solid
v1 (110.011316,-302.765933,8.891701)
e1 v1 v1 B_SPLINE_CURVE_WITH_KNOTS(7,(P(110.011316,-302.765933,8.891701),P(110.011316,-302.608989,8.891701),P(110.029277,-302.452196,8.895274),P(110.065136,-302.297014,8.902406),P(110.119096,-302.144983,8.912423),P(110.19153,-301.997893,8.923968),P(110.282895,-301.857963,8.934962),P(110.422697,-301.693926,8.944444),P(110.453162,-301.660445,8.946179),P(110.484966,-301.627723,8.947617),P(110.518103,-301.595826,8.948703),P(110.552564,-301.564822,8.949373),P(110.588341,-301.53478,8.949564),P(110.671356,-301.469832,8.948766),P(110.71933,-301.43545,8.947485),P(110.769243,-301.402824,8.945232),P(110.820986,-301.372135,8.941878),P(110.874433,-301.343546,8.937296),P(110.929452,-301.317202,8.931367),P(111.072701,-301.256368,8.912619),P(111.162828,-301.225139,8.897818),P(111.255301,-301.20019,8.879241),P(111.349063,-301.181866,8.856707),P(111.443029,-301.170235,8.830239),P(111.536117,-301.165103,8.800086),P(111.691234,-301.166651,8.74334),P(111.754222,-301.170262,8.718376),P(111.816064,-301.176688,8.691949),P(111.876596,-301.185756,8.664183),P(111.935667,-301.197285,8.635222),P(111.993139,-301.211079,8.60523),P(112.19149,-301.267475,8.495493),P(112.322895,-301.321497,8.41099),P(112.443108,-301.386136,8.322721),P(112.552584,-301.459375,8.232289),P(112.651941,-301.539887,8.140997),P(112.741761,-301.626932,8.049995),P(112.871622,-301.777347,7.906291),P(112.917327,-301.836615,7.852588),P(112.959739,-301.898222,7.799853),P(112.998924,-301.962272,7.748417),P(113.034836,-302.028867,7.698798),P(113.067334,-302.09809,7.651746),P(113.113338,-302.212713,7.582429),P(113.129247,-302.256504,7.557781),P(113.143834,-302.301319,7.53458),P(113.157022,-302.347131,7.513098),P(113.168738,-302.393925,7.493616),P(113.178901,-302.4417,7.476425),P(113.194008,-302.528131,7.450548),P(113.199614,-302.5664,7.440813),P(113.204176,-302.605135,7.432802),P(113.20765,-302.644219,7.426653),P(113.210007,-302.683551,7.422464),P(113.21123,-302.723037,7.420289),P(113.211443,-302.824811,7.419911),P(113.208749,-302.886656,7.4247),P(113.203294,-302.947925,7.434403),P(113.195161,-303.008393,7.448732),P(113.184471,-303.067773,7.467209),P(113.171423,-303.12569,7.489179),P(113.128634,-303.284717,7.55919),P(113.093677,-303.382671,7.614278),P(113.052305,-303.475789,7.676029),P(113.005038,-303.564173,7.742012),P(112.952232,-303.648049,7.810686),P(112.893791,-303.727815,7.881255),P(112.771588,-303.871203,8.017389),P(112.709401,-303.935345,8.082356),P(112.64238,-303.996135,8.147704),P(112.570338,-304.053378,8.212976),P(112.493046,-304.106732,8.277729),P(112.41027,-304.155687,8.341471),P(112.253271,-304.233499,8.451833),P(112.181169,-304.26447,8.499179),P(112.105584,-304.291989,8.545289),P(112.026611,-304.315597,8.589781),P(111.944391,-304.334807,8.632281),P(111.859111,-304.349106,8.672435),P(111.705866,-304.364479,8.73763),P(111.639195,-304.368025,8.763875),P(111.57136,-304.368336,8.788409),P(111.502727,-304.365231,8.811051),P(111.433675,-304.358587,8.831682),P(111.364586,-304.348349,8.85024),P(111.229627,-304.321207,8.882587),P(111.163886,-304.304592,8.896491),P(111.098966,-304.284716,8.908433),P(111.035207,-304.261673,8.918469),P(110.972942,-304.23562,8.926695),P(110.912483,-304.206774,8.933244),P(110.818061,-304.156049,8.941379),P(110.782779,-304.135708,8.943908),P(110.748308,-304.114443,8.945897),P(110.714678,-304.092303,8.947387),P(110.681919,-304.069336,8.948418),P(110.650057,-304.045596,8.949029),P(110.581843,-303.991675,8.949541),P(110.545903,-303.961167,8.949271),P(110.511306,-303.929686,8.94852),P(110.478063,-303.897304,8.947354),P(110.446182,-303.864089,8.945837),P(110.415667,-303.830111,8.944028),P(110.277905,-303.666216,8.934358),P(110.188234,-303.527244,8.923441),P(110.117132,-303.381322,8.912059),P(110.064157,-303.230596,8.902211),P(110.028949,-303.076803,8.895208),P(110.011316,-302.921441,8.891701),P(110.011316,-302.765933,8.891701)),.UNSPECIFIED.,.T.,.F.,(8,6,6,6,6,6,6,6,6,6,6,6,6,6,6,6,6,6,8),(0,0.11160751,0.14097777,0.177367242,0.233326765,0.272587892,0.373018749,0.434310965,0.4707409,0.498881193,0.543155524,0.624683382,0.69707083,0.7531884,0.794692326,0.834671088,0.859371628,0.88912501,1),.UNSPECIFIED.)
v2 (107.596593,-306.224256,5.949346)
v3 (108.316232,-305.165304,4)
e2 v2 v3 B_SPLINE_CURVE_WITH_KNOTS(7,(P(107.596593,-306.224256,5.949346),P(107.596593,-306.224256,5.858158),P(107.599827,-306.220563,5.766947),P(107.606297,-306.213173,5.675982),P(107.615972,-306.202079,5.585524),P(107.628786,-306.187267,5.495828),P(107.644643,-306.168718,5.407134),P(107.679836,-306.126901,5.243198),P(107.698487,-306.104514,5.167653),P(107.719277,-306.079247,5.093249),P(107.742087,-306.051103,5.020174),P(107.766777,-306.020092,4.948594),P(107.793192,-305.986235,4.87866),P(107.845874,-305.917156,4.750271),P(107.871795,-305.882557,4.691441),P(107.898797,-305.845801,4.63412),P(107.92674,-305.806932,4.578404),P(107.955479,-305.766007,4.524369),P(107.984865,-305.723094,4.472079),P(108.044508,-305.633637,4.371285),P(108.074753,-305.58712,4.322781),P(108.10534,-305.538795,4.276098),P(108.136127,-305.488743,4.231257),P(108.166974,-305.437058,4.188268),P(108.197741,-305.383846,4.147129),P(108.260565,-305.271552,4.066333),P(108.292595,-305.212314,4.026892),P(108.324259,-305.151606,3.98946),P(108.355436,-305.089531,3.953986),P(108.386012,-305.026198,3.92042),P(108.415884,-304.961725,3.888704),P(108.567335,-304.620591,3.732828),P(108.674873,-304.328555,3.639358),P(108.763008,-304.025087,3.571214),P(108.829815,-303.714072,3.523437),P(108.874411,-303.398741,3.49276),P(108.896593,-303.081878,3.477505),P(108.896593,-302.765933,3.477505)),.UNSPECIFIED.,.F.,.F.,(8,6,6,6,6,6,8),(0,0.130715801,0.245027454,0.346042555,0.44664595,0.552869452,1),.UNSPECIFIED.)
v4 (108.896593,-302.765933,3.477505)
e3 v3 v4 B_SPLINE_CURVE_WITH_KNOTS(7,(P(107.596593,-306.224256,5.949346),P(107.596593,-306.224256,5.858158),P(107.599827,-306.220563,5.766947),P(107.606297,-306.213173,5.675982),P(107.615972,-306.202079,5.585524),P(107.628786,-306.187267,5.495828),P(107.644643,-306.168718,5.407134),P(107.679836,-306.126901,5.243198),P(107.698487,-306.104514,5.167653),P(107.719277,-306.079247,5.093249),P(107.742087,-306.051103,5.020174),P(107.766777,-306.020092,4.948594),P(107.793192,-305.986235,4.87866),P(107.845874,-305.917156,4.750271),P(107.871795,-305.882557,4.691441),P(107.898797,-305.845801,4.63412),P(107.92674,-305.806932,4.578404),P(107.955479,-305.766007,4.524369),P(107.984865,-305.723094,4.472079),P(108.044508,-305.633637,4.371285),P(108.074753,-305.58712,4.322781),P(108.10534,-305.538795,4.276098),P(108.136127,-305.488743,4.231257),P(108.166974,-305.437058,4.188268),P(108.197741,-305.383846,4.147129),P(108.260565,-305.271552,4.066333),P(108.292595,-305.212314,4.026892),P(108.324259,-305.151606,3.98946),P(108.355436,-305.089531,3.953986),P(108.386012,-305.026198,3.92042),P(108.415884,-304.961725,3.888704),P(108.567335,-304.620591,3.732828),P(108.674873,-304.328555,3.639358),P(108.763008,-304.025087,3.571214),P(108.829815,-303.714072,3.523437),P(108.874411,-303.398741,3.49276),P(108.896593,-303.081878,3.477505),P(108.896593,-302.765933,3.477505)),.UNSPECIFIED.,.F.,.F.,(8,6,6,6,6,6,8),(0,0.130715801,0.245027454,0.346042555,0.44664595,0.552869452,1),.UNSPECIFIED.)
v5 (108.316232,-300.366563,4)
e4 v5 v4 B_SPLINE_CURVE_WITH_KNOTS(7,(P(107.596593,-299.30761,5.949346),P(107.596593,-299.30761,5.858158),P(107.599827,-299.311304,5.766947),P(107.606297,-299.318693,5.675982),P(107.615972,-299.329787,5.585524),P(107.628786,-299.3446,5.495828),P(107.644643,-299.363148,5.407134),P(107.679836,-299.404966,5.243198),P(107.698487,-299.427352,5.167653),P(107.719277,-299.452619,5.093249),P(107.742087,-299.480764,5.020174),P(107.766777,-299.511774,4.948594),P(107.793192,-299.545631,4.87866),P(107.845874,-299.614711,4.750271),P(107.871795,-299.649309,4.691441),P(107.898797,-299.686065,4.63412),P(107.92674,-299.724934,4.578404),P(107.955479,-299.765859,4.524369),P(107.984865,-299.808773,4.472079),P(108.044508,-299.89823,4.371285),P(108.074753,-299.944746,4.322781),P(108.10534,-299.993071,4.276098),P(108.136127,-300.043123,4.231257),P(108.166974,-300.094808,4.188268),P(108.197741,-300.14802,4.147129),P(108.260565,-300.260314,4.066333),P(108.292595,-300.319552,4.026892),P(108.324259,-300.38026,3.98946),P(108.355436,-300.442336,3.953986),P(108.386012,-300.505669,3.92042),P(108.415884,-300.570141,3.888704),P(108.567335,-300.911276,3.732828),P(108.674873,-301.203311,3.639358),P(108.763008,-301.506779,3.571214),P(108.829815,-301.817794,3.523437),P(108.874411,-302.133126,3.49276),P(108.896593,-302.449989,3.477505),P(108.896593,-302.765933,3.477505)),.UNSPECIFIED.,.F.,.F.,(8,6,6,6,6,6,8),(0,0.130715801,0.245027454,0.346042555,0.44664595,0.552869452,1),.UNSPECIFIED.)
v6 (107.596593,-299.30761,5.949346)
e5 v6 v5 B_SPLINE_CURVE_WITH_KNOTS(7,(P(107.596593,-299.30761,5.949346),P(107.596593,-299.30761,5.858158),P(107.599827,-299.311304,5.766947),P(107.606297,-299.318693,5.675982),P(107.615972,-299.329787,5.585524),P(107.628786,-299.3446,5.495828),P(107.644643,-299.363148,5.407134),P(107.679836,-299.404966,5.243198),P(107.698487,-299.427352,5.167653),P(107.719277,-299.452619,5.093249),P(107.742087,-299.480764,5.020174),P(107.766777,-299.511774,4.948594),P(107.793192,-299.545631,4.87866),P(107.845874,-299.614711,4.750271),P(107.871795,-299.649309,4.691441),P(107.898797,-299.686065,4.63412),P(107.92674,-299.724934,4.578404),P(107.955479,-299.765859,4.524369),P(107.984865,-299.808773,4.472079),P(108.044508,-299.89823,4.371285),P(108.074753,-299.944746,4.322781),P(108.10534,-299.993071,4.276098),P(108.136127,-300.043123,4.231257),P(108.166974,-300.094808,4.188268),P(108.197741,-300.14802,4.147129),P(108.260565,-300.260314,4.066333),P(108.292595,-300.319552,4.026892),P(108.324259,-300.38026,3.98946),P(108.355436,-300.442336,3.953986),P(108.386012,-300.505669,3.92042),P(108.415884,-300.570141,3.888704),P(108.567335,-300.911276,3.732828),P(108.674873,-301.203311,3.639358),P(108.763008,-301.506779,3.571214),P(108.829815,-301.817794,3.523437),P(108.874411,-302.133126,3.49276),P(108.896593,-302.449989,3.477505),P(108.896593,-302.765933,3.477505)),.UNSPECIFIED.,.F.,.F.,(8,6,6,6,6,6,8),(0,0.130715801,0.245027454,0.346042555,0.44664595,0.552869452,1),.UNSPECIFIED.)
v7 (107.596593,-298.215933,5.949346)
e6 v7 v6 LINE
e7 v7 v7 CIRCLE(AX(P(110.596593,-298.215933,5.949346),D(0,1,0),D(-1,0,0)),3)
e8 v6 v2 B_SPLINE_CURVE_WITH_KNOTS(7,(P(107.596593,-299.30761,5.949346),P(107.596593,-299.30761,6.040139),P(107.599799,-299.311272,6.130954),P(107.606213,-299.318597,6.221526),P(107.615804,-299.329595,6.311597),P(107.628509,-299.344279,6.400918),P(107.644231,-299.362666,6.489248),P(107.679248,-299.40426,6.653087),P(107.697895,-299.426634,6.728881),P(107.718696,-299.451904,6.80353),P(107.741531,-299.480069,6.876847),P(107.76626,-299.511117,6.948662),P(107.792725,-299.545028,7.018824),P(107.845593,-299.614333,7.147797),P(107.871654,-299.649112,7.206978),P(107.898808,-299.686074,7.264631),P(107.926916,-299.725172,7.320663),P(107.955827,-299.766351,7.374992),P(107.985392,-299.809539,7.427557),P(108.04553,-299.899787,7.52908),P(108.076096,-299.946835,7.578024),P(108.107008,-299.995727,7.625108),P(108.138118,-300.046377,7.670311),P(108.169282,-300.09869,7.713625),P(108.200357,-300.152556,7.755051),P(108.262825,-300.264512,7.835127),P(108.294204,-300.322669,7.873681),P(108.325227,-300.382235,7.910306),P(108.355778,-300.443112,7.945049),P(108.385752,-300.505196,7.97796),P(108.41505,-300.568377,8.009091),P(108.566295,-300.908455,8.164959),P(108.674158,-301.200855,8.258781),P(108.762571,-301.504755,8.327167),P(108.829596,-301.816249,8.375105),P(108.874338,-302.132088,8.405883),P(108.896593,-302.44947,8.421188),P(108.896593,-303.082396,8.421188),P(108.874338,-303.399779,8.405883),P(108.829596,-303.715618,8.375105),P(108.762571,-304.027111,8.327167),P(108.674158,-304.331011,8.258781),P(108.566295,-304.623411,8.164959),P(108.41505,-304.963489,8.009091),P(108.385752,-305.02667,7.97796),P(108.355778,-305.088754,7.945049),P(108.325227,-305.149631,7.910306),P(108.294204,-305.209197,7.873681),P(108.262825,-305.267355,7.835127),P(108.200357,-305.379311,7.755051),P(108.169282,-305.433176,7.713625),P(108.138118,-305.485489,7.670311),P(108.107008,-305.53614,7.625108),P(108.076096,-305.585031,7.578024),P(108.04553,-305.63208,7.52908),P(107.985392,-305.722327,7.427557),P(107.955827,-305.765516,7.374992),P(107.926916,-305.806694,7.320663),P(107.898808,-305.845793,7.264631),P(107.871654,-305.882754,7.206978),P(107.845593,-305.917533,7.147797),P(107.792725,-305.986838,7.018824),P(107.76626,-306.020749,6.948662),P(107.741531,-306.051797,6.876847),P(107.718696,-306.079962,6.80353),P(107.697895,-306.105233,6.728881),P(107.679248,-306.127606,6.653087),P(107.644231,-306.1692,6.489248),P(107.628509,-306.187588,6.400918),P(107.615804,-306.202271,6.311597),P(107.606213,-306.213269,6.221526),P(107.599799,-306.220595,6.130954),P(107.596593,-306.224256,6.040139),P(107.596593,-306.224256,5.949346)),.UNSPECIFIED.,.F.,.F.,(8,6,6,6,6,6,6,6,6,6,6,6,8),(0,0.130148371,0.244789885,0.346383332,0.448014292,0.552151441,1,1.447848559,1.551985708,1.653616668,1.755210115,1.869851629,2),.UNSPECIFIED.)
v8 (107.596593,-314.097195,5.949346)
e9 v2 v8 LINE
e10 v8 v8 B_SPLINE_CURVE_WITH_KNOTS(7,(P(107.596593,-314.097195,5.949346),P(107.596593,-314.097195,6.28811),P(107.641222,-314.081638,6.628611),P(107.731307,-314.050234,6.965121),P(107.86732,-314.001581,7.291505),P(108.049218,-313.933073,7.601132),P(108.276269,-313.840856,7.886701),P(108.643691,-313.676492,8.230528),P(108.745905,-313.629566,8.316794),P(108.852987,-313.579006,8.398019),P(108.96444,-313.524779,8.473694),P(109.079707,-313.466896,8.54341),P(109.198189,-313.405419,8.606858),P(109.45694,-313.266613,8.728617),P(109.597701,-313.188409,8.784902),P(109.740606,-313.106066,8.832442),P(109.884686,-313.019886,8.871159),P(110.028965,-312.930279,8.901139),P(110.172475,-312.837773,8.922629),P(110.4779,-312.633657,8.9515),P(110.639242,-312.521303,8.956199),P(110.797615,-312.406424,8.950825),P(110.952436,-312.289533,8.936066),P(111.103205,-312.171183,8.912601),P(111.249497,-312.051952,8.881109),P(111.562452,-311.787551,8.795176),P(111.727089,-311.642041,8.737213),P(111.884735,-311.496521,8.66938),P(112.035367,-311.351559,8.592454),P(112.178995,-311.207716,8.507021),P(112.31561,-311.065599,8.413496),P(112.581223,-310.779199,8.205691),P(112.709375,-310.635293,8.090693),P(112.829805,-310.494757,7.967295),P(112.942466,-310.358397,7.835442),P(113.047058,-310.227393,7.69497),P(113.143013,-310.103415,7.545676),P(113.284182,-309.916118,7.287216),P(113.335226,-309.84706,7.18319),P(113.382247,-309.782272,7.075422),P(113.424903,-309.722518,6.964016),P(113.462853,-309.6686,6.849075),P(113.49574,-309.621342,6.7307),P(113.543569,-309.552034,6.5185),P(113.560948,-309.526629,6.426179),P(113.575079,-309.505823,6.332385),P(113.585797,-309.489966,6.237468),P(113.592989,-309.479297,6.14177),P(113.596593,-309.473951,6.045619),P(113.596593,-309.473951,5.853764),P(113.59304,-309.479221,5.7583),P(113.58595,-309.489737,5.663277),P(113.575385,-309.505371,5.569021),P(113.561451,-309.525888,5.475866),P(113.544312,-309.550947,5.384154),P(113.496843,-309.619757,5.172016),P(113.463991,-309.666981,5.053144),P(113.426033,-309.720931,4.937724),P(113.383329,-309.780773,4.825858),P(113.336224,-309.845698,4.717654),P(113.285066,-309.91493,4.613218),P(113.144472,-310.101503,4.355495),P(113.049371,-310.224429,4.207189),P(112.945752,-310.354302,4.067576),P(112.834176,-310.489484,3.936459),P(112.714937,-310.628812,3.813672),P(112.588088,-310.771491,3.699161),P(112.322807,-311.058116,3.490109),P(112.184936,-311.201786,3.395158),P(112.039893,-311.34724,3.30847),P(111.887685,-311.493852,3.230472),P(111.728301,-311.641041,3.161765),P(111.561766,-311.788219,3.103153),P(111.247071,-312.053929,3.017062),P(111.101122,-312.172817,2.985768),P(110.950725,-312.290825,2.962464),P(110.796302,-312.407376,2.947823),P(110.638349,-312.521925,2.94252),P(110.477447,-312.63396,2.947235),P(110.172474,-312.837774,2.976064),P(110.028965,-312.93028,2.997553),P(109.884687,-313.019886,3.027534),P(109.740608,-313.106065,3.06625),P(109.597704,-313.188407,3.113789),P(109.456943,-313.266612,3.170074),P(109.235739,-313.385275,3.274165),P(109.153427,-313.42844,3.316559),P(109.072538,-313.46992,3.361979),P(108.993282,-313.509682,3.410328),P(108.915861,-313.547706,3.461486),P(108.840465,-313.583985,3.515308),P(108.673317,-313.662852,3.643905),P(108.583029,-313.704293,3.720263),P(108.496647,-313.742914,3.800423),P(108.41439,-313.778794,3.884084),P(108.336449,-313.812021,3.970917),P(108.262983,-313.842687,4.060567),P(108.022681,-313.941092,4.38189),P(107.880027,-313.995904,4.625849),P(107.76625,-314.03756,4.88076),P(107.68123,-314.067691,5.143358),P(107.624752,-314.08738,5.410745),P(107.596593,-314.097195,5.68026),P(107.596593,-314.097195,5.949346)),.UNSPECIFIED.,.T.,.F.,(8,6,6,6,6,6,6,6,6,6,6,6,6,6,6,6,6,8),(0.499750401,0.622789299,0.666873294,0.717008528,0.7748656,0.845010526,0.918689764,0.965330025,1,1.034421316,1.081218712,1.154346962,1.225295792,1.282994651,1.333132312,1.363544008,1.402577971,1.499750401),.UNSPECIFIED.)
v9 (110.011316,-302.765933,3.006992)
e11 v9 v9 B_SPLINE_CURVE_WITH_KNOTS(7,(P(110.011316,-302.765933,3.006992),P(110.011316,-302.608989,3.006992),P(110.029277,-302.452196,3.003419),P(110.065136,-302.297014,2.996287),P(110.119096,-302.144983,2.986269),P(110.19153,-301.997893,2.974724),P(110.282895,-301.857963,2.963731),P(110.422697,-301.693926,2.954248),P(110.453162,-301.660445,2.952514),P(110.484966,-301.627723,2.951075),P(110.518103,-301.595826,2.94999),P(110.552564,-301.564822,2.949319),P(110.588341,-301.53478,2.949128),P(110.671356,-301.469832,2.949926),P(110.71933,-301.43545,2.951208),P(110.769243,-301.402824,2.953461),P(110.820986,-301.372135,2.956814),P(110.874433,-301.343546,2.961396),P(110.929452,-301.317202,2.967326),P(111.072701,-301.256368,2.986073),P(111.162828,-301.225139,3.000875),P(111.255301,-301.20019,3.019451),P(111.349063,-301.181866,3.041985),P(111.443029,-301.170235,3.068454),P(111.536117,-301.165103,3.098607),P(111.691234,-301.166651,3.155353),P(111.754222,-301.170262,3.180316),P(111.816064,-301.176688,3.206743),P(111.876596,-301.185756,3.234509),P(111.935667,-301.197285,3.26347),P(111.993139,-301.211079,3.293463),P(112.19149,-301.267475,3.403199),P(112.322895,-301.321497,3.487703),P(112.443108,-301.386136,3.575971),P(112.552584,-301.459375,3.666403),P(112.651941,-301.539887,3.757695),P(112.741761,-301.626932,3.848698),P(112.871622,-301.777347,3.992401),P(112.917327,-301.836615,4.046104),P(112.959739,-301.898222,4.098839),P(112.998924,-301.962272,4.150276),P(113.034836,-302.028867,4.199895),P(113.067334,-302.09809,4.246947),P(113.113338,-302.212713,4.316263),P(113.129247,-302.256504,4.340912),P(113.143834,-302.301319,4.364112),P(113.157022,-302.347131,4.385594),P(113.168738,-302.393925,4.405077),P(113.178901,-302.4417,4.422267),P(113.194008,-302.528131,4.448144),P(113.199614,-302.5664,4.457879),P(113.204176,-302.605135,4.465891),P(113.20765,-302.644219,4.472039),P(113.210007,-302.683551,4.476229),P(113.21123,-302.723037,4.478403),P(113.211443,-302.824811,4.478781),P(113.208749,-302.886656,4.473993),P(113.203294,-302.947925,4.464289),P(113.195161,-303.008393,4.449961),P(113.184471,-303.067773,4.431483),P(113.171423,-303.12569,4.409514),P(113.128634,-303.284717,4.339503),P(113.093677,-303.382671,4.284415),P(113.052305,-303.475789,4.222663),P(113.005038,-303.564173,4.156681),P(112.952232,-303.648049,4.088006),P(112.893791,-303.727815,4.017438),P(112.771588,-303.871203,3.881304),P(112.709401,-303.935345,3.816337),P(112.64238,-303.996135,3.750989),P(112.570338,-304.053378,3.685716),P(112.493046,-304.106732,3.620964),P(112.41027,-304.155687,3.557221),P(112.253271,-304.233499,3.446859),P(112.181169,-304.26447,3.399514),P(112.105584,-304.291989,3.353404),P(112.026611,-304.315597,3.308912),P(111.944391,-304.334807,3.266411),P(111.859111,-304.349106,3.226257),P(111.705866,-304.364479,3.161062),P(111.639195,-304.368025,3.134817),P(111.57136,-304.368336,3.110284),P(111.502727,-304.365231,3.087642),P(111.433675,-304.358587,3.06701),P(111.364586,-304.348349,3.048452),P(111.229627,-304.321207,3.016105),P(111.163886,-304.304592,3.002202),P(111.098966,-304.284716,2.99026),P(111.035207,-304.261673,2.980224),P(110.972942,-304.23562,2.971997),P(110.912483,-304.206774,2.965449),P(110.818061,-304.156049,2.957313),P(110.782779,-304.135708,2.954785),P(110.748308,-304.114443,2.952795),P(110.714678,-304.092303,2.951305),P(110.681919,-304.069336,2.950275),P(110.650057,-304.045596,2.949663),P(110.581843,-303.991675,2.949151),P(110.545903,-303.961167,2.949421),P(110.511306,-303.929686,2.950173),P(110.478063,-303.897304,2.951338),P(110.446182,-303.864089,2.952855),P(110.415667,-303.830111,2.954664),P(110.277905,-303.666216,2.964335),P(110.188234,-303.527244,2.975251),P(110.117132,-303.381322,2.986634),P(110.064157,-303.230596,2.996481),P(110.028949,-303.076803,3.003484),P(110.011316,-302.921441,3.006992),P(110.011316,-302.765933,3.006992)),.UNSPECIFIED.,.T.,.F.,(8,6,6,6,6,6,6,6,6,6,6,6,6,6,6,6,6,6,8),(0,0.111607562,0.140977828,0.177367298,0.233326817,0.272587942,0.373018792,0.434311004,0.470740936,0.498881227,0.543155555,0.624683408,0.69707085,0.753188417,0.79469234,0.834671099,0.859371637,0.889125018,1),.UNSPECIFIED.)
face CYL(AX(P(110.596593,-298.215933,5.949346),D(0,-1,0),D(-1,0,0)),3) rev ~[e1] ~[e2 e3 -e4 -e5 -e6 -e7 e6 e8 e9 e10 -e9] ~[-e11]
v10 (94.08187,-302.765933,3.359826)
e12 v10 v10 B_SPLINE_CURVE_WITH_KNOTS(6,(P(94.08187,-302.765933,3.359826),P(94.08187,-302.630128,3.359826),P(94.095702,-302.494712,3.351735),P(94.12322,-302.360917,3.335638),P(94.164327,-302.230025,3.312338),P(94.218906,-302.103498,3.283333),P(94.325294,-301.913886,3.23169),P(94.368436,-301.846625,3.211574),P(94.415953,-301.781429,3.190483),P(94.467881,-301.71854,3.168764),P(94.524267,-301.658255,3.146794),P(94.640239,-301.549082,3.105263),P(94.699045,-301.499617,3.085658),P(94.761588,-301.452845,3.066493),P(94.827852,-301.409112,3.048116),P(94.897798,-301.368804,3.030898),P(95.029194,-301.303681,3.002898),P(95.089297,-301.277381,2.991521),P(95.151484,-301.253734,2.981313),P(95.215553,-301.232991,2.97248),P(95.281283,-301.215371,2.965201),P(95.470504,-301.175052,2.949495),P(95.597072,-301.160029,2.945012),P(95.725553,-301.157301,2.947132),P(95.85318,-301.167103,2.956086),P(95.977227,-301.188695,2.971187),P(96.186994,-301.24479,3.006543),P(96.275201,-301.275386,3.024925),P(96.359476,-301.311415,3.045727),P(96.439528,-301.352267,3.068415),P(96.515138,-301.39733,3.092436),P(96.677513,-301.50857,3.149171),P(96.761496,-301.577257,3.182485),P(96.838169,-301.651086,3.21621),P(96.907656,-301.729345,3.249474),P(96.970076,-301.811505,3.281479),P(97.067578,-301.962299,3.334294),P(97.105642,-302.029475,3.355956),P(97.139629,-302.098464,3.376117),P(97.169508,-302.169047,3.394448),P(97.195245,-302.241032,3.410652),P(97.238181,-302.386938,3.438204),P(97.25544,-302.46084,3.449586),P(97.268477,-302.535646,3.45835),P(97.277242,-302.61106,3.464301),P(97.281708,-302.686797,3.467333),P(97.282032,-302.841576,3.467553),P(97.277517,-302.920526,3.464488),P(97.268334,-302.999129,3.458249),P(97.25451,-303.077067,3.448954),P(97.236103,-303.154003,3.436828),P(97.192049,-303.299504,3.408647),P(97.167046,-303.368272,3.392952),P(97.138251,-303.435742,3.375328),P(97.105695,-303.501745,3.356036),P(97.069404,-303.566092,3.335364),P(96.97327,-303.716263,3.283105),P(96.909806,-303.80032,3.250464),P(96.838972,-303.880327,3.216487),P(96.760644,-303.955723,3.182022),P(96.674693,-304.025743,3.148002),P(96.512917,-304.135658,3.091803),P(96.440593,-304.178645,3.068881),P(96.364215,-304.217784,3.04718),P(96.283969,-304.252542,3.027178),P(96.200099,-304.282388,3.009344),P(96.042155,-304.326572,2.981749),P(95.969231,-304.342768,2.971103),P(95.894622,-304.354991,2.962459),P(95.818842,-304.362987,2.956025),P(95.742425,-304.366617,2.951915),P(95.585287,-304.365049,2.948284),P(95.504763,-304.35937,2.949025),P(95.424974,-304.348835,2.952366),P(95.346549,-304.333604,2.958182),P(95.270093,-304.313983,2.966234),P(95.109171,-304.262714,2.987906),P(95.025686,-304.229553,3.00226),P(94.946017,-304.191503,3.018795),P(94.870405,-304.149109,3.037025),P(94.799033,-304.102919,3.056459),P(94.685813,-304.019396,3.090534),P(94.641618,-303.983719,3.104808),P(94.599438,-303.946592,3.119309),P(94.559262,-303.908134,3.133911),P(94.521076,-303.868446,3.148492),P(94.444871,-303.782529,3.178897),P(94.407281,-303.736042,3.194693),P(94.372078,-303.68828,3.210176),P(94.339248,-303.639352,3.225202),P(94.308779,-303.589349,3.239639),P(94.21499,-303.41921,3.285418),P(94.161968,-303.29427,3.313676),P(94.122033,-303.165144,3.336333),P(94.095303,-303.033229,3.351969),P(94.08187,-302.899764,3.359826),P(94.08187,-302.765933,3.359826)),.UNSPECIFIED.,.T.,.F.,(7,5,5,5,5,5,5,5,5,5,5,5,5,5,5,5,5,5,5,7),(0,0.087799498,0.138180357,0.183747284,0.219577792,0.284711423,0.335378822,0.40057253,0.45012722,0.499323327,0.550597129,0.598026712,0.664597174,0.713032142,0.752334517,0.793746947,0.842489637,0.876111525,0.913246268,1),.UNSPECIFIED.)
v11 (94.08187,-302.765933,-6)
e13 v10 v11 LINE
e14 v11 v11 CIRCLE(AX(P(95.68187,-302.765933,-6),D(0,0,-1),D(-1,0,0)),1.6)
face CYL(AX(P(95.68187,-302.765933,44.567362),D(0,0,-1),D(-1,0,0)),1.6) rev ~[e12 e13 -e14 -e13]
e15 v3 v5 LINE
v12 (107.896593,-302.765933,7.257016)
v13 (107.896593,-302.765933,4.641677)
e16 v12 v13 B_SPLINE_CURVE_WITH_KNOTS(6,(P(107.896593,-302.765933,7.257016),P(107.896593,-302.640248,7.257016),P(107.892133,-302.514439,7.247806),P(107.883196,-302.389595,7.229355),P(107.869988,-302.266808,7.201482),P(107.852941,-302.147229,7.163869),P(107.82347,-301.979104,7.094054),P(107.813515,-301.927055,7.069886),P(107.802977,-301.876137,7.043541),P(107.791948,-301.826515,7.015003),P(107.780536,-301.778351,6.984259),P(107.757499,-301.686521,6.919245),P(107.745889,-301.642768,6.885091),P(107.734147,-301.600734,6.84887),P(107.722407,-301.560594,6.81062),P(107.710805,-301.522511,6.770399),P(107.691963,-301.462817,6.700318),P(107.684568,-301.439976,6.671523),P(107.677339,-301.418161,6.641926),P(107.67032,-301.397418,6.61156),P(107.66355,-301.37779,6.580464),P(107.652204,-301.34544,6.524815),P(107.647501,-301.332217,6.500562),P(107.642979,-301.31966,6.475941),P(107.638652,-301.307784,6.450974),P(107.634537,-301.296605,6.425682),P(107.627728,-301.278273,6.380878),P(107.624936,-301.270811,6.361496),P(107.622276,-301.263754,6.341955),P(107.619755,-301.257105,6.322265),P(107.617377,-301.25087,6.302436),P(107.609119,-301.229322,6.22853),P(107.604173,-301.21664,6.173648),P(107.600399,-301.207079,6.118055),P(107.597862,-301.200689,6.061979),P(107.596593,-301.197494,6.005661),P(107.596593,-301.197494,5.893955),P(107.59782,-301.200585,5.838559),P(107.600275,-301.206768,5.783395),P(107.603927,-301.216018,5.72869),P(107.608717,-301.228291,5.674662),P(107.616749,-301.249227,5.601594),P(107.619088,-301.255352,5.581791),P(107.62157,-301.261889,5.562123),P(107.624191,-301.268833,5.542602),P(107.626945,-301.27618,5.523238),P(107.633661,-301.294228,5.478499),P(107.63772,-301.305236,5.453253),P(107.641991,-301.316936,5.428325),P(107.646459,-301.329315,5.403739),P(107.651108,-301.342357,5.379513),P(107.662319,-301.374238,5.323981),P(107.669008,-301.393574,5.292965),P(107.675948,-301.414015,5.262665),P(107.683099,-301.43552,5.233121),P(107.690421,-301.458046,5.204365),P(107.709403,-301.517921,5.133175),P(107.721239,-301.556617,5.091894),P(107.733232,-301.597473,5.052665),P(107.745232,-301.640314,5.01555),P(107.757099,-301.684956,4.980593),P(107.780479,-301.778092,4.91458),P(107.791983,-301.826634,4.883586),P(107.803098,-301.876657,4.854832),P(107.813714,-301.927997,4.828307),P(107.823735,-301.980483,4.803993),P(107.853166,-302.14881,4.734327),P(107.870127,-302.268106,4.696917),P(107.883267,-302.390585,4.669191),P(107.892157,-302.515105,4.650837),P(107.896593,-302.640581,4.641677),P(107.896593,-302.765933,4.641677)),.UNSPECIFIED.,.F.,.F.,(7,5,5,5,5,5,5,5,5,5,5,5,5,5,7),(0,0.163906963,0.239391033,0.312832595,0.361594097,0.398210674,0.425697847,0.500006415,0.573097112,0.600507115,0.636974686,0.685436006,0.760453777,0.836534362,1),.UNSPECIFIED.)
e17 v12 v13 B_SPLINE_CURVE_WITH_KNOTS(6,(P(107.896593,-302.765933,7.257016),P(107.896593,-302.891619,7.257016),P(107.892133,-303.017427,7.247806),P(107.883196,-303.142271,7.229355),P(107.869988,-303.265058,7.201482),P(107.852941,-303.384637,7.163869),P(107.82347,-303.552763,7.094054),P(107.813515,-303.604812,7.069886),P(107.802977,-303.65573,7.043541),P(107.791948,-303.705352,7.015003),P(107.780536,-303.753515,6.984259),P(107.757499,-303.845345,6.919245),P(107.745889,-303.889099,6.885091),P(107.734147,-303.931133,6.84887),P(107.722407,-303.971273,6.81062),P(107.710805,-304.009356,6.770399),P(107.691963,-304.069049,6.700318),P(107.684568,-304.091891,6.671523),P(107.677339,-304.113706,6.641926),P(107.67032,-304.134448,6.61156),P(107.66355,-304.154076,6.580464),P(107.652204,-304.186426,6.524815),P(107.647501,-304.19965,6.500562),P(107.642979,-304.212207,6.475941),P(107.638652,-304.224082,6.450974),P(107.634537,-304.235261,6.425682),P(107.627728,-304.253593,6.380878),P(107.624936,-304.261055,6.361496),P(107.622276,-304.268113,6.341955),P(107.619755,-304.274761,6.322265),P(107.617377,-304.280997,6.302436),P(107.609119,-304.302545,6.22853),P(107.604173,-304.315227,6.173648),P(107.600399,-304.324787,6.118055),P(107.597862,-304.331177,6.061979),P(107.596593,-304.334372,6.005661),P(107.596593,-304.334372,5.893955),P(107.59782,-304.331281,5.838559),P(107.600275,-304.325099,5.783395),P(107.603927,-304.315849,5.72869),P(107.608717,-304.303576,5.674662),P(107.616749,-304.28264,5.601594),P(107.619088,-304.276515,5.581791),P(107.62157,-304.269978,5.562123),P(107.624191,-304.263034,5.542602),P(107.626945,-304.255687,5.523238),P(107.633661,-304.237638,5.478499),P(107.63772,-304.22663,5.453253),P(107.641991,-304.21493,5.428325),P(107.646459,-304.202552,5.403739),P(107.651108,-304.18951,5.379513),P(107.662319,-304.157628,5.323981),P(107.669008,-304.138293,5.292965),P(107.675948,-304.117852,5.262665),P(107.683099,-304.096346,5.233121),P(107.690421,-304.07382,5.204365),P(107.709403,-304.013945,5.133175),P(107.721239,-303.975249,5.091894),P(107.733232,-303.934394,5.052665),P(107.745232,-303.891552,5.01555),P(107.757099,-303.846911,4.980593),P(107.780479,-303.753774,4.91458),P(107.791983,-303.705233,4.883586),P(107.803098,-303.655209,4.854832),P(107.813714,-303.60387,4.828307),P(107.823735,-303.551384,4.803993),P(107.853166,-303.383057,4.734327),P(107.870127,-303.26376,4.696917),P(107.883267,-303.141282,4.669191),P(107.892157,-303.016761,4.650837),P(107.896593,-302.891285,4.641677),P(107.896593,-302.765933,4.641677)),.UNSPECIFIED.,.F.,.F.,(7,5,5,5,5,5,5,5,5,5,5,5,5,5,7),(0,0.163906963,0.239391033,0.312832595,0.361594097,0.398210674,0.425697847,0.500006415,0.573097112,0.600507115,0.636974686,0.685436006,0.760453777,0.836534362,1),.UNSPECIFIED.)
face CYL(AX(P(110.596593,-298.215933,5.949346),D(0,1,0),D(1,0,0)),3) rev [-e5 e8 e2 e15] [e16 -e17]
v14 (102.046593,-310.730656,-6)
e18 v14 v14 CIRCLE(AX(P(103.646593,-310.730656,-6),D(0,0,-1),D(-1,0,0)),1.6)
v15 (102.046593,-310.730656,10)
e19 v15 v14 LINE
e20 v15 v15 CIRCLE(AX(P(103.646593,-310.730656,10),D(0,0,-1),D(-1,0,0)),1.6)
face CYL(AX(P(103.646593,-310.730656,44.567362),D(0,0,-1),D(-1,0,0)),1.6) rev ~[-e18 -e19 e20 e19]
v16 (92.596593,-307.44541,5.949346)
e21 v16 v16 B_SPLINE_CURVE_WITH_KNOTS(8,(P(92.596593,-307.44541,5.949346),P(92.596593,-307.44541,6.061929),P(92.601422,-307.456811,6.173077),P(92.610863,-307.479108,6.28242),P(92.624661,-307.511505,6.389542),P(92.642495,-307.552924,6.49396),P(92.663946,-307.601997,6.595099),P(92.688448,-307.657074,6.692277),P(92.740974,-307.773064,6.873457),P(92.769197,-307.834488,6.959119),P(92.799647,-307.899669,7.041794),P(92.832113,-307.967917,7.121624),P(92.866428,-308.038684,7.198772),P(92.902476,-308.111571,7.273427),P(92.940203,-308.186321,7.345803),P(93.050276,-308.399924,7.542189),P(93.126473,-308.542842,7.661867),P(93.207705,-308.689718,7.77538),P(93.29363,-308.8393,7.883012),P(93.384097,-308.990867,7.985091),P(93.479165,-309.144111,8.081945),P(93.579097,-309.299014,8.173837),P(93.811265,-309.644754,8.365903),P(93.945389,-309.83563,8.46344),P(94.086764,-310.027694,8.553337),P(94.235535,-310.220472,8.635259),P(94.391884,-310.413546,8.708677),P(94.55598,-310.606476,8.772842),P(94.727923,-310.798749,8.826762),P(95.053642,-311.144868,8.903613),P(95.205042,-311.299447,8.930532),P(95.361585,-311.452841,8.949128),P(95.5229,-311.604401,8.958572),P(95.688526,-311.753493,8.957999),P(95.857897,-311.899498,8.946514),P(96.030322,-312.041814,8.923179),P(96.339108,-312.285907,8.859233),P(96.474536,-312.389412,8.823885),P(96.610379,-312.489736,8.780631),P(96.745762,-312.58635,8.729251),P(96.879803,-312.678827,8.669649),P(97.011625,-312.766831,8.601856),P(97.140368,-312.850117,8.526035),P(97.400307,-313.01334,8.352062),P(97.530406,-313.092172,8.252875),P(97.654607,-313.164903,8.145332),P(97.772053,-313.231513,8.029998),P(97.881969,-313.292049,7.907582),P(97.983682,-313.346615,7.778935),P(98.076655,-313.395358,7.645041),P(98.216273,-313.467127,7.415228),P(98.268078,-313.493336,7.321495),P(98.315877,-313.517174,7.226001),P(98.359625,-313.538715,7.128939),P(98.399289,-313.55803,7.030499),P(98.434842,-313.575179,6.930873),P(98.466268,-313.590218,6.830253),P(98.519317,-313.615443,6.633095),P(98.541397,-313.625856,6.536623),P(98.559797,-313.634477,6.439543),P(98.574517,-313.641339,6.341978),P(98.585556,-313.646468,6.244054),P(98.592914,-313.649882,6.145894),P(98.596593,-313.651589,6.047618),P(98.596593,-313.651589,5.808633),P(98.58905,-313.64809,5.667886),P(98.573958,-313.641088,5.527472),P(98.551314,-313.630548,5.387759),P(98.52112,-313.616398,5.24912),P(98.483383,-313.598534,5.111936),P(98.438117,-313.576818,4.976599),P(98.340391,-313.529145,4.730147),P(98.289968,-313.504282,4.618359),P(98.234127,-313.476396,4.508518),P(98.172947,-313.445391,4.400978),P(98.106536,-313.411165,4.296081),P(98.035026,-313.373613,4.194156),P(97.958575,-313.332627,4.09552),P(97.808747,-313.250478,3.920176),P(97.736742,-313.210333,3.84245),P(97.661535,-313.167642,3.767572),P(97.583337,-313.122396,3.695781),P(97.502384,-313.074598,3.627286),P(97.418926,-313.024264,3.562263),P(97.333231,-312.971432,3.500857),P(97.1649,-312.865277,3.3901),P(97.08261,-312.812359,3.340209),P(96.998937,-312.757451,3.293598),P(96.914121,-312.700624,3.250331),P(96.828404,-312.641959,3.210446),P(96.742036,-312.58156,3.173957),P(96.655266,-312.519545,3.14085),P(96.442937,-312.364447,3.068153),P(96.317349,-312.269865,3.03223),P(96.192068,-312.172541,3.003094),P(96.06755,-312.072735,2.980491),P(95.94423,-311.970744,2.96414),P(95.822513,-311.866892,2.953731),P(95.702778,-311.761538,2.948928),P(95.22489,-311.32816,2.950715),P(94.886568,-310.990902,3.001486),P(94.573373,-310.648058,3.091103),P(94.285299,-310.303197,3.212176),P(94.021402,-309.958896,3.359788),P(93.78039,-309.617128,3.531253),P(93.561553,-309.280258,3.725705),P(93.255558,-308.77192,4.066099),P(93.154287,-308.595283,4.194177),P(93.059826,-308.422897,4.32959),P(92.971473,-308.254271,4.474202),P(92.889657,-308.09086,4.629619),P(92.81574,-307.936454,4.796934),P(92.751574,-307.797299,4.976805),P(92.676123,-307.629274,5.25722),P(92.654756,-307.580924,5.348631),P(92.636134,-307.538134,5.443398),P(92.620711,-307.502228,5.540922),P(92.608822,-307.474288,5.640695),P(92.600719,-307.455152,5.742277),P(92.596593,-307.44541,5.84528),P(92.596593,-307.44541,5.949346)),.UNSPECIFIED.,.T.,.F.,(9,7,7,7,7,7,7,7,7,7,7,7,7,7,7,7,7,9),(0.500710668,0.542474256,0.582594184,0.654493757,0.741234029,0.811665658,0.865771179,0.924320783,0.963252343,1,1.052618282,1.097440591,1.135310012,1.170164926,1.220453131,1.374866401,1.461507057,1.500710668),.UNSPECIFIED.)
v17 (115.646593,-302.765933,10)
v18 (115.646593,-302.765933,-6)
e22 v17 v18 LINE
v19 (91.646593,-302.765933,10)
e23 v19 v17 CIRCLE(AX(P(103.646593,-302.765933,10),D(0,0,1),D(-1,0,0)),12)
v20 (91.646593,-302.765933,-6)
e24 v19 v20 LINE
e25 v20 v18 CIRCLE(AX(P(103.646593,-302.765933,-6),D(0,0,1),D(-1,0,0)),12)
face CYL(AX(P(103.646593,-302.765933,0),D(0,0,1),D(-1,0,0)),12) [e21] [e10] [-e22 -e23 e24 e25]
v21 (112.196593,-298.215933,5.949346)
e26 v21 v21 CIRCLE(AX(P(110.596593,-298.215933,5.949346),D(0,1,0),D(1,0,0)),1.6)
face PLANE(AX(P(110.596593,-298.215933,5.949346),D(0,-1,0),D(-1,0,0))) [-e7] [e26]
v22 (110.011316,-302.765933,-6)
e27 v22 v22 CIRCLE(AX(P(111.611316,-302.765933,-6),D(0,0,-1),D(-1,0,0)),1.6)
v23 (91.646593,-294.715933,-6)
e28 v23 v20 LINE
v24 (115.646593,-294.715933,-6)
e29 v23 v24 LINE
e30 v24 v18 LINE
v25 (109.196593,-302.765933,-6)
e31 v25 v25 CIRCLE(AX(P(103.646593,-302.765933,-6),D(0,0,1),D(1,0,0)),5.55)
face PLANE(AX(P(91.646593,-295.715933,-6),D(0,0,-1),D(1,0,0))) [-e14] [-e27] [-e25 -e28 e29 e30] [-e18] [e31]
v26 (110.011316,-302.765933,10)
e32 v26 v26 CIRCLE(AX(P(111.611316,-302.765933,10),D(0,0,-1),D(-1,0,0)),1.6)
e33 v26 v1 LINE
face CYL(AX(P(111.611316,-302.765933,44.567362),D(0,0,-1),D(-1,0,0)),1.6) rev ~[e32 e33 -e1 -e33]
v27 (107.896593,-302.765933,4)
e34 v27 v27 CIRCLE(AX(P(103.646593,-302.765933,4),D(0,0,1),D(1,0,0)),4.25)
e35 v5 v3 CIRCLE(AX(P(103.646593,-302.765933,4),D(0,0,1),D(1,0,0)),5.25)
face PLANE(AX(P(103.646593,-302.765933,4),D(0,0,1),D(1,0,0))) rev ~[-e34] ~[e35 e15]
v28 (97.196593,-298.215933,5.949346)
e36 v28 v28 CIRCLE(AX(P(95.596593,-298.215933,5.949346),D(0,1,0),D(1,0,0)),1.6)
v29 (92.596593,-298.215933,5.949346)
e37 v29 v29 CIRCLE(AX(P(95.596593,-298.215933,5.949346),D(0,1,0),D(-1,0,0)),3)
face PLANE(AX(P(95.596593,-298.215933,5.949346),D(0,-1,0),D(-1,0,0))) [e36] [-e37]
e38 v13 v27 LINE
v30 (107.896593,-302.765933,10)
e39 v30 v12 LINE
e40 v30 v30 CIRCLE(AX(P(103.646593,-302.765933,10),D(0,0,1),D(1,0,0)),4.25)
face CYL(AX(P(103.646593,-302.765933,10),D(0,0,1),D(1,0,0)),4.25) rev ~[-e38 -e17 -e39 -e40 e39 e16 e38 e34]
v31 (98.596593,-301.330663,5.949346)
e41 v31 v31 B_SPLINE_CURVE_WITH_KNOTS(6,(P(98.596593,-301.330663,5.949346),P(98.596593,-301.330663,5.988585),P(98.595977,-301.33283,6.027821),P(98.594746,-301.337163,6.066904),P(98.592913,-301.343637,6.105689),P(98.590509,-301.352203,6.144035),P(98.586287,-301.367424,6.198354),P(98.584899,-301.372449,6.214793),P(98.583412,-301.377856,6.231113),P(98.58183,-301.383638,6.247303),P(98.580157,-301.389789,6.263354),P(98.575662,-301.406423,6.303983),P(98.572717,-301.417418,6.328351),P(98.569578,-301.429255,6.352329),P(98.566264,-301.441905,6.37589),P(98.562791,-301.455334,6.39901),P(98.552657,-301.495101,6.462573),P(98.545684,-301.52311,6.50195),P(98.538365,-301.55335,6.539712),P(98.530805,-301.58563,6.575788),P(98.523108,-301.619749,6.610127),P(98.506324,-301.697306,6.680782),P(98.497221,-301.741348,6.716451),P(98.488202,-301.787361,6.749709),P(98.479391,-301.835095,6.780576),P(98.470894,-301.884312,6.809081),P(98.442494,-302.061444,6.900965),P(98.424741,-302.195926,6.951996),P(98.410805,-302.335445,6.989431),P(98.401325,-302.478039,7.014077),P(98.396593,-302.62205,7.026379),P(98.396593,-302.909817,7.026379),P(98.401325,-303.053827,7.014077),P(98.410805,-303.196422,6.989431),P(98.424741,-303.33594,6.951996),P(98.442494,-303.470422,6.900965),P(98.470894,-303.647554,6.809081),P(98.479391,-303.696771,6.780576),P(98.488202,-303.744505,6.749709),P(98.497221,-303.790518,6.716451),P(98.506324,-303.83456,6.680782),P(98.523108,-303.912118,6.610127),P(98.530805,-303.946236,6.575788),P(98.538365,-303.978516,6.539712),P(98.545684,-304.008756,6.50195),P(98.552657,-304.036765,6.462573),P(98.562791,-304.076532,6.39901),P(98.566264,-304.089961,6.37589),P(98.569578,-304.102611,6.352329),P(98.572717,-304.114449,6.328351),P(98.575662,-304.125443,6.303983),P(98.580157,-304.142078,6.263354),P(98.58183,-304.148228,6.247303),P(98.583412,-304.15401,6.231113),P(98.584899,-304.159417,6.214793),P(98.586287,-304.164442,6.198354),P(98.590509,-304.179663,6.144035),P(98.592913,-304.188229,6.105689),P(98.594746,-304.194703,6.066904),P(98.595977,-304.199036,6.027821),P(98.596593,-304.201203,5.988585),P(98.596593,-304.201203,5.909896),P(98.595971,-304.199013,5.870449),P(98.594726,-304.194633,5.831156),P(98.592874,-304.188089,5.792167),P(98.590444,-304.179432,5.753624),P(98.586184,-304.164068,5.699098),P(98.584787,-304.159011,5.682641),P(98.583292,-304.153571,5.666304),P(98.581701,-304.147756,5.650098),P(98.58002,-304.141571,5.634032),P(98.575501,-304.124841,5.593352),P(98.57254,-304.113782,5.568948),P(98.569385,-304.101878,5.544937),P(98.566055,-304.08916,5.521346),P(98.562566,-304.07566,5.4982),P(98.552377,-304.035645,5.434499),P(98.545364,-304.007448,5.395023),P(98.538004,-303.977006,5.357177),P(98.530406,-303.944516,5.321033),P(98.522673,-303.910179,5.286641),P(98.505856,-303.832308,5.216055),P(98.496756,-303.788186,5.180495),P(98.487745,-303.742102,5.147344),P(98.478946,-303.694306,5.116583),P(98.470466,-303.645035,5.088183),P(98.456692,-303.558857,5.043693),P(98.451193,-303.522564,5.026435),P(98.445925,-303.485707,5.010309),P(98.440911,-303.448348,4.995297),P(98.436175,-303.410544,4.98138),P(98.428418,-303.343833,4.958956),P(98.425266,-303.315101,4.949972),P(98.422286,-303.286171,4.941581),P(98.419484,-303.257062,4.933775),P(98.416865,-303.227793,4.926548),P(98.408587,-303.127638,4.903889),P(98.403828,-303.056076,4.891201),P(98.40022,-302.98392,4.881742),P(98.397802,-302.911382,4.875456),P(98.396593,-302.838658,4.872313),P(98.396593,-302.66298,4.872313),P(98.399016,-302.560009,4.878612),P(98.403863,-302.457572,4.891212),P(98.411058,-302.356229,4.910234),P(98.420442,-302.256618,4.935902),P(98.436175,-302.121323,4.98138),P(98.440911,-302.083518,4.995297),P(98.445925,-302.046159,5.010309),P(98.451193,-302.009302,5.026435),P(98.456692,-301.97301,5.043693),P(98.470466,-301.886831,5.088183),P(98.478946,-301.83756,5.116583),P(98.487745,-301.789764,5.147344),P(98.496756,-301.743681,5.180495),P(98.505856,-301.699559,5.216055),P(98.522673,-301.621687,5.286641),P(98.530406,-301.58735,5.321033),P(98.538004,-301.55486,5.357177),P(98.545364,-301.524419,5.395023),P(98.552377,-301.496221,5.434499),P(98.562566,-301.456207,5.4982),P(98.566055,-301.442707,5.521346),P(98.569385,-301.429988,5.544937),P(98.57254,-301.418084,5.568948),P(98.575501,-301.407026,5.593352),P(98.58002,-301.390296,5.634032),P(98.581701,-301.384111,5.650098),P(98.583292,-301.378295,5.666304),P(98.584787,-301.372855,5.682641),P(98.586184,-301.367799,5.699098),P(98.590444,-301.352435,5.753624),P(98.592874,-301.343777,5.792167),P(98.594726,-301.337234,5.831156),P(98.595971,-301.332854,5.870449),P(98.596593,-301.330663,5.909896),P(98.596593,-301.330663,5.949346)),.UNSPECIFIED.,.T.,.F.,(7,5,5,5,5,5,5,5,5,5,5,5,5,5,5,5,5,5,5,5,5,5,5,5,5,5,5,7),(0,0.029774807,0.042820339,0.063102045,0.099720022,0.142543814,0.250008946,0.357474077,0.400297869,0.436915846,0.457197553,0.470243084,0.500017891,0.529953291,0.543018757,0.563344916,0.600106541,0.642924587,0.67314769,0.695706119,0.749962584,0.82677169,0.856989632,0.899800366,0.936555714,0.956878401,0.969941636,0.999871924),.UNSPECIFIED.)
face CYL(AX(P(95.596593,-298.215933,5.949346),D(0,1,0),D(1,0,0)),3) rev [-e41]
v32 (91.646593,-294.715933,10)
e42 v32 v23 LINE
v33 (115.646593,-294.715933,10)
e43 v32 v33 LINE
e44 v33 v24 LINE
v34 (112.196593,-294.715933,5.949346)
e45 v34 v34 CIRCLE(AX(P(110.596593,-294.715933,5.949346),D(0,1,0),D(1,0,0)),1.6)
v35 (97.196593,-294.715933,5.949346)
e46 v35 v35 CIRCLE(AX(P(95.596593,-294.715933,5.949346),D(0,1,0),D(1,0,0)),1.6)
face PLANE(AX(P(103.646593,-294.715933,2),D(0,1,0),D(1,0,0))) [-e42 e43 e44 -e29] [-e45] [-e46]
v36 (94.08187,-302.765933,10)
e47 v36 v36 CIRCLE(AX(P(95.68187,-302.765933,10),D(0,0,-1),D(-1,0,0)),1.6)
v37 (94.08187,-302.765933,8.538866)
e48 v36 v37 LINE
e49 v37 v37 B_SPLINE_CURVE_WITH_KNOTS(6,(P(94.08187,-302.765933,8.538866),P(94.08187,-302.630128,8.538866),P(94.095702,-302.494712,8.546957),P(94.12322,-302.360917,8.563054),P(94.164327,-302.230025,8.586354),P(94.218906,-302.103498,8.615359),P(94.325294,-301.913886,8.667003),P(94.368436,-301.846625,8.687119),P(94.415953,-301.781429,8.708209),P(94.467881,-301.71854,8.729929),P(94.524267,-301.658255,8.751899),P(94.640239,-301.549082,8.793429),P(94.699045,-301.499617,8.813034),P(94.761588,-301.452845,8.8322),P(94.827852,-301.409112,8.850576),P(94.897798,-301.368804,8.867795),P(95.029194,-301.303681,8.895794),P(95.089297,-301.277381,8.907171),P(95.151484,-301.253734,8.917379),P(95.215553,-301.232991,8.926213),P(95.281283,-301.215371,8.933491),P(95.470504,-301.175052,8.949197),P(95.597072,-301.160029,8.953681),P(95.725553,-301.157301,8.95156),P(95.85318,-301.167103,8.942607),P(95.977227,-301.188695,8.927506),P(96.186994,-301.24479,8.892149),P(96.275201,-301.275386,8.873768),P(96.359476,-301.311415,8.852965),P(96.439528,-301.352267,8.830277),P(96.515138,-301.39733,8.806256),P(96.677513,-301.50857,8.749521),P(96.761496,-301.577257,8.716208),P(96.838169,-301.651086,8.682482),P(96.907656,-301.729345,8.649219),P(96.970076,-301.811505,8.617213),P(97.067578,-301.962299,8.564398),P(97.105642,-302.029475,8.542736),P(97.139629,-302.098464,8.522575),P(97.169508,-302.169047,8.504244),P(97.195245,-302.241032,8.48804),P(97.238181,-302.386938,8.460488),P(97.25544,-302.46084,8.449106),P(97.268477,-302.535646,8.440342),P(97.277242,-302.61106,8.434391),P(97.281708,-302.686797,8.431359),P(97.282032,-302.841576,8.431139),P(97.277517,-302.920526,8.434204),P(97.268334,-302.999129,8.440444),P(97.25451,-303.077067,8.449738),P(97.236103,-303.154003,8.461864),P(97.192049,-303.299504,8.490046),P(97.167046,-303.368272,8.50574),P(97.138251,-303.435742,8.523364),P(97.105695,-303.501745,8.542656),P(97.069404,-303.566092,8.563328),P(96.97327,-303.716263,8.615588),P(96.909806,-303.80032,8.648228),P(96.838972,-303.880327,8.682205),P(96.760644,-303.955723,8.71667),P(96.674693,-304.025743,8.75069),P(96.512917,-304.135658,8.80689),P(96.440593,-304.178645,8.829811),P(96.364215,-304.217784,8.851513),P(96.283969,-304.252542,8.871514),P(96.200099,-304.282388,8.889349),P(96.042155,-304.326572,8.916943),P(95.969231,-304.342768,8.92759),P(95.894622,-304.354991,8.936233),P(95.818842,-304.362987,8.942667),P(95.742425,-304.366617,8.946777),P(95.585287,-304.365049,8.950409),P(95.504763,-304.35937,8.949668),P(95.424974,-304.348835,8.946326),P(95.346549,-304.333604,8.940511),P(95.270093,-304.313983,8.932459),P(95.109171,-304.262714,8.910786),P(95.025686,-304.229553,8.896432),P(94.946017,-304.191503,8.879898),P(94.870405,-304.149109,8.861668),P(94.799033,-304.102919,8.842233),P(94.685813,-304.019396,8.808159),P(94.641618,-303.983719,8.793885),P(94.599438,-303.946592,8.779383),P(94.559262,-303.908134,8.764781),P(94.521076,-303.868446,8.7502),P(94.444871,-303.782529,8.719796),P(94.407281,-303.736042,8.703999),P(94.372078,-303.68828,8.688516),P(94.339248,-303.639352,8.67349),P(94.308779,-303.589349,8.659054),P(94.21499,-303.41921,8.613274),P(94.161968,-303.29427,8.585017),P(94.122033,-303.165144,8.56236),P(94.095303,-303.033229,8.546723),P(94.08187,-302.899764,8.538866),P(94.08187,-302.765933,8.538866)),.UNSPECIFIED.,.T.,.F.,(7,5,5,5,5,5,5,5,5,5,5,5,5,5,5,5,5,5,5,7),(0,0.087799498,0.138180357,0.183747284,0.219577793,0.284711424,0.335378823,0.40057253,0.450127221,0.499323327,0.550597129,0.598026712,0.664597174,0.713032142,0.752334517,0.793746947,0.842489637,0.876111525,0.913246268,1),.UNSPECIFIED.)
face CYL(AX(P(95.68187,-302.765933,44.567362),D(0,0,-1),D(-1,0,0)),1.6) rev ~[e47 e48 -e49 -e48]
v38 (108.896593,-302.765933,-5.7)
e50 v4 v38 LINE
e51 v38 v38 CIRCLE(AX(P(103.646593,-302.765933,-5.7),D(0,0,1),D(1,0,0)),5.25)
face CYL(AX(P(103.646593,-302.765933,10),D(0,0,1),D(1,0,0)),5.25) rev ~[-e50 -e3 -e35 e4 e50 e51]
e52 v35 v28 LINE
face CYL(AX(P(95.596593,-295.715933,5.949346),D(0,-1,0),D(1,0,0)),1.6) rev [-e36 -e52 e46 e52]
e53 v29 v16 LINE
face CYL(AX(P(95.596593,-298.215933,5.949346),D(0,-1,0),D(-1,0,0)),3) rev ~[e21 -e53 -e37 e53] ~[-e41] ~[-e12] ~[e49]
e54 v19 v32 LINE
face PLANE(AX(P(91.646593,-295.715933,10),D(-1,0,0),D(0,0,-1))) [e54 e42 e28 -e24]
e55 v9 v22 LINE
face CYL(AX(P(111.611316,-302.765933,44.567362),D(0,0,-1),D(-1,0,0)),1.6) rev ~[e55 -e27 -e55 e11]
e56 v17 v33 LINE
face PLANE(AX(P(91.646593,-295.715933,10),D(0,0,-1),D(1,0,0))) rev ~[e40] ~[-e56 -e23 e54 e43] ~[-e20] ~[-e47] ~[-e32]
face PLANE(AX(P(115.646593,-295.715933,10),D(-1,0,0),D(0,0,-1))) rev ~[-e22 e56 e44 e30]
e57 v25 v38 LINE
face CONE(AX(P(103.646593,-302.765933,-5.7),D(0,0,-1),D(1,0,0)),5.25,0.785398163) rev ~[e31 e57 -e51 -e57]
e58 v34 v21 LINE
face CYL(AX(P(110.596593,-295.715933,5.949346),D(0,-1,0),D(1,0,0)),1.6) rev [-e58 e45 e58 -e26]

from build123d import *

# Parameters (mm, degrees)
RESSALTO_EXTRUS_O1_DEPTH                = 10
RESSALTO_EXTRUS_O1_DEPTH_BACK           = 6
ESBO_O2_R                               = 5.25
CORTE_EXTRUS_O1_DEPTH                   = 16
CORTE_EXTRUS_O1_DEPTH_BACK              = 31.8
M3_CLEARANCE_HOLE5_D                    = 3.2
CBORE_FOR_M5_HEX_HEAD_BOLT1_D           = 3.2
CBORE_FOR_M5_HEX_HEAD_BOLT1_CBORE_D     = 6
CBORE_FOR_M5_HEX_HEAD_BOLT1_CBORE_DEPTH = 16.5
SKETCH11_W                              = 24
SKETCH11_H                              = 16
SKETCH11_R                              = 1.6
BOSS_EXTRUDE3_DEPTH                     = 1
SKETCH12_R                              = 5.25
SKETCH12_R_2                            = 4.25
BOSS_EXTRUDE5_DEPTH                     = 6
CHAMFER1_SIZE                           = 0.3
SKETCH13_R                              = 3
CUT_EXTRUDE1_DEPTH                      = 43.8


with BuildPart() as part:
    # Esboço1 → Ressalto-extrusão1 (new body, two sides)
    with BuildSketch(Plane.XY) as ressalto_extrus_o1_sk:
        with BuildLine():
            Line((115.646593224, -302.7659332), (115.646593224, -295.7159332))
            Line((115.646593224, -295.7159332), (91.646593224, -295.7159332))
            Line((91.646593224, -295.7159332), (91.646593224, -302.7659332))
            ThreePointArc((91.646593224, -302.7659332), (103.646593224, -314.7659332), (115.646593224, -302.7659332))
        make_face()
    extrude(amount=RESSALTO_EXTRUS_O1_DEPTH)
    extrude(ressalto_extrus_o1_sk.sketch, amount=-RESSALTO_EXTRUS_O1_DEPTH_BACK)

    # Esboço2 → Corte-extrusão1 (cut, two sides)
    with BuildSketch(Plane.XY.offset(10)) as corte_extrus_o1_sk:
        with Locations((103.646593224, -302.7659332)):
            Circle(ESBO_O2_R)
    extrude(amount=CORTE_EXTRUS_O1_DEPTH, mode=Mode.SUBTRACT)
    extrude(corte_extrus_o1_sk.sketch, amount=-CORTE_EXTRUS_O1_DEPTH_BACK, mode=Mode.SUBTRACT)

    # M3 Clearance Hole5 (through all)
    with Locations(Plane.XY.offset(10)):
        with Locations((95.681870132, -302.765933199), (103.646593224, -310.730656291), (111.611316315, -302.765933199)):
            Hole(M3_CLEARANCE_HOLE5_D / 2)

    # CBORE for M5 Hex Head Bolt1 (through all)
    with Locations(Plane(origin=(0, -314.7159332, 0), x_dir=(-1, 0, 0), z_dir=(0, -1, 0))):
        with Locations((-95.596593224, -5.949346208), (-110.596593224, -5.949346208)):
            CounterBoreHole(CBORE_FOR_M5_HEX_HEAD_BOLT1_D / 2, CBORE_FOR_M5_HEX_HEAD_BOLT1_CBORE_D / 2, CBORE_FOR_M5_HEX_HEAD_BOLT1_CBORE_DEPTH)

    # Sketch11 → Boss-Extrude3 (add)
    with BuildSketch(Plane(origin=(0, -295.7159332, 0), x_dir=(1, 0, 0), z_dir=(0, 1, 0))):
        with Locations((103.646593224, -2)):
            Rectangle(SKETCH11_W, SKETCH11_H)
        with Locations((95.596593224, -5.949346208)):
            Circle(SKETCH11_R, mode=Mode.SUBTRACT)
        with Locations((110.596593224, -5.949346208)):
            Circle(SKETCH11_R, mode=Mode.SUBTRACT)
    extrude(amount=BOSS_EXTRUDE3_DEPTH)

    # Sketch12 → Boss-Extrude5 (add)
    with BuildSketch(Plane.XY.offset(10)):
        with Locations((103.646593224, -302.7659332)):
            Circle(SKETCH12_R)
        with Locations((103.646593224, -302.7659332)):
            Circle(SKETCH12_R_2, mode=Mode.SUBTRACT)
    extrude(amount=-BOSS_EXTRUDE5_DEPTH)

    # Chamfer1
    chamfer1_edges = [part.edges().sort_by_distance(p)[0] for p in [
        (98.396593224, -302.7659332, -6),
    ]]
    chamfer(chamfer1_edges, length=CHAMFER1_SIZE)

    # Sketch13 → Cut-Extrude1 (cut)
    with BuildSketch(Plane.XZ.offset(298.2159332)):
        with Locations((95.596593224, 5.949346208)):
            Circle(SKETCH13_R)
        with Locations((110.596593224, 5.949346208)):
            Circle(SKETCH13_R)
    extrude(amount=CUT_EXTRUDE1_DEPTH, mode=Mode.SUBTRACT)


solid = part.part
